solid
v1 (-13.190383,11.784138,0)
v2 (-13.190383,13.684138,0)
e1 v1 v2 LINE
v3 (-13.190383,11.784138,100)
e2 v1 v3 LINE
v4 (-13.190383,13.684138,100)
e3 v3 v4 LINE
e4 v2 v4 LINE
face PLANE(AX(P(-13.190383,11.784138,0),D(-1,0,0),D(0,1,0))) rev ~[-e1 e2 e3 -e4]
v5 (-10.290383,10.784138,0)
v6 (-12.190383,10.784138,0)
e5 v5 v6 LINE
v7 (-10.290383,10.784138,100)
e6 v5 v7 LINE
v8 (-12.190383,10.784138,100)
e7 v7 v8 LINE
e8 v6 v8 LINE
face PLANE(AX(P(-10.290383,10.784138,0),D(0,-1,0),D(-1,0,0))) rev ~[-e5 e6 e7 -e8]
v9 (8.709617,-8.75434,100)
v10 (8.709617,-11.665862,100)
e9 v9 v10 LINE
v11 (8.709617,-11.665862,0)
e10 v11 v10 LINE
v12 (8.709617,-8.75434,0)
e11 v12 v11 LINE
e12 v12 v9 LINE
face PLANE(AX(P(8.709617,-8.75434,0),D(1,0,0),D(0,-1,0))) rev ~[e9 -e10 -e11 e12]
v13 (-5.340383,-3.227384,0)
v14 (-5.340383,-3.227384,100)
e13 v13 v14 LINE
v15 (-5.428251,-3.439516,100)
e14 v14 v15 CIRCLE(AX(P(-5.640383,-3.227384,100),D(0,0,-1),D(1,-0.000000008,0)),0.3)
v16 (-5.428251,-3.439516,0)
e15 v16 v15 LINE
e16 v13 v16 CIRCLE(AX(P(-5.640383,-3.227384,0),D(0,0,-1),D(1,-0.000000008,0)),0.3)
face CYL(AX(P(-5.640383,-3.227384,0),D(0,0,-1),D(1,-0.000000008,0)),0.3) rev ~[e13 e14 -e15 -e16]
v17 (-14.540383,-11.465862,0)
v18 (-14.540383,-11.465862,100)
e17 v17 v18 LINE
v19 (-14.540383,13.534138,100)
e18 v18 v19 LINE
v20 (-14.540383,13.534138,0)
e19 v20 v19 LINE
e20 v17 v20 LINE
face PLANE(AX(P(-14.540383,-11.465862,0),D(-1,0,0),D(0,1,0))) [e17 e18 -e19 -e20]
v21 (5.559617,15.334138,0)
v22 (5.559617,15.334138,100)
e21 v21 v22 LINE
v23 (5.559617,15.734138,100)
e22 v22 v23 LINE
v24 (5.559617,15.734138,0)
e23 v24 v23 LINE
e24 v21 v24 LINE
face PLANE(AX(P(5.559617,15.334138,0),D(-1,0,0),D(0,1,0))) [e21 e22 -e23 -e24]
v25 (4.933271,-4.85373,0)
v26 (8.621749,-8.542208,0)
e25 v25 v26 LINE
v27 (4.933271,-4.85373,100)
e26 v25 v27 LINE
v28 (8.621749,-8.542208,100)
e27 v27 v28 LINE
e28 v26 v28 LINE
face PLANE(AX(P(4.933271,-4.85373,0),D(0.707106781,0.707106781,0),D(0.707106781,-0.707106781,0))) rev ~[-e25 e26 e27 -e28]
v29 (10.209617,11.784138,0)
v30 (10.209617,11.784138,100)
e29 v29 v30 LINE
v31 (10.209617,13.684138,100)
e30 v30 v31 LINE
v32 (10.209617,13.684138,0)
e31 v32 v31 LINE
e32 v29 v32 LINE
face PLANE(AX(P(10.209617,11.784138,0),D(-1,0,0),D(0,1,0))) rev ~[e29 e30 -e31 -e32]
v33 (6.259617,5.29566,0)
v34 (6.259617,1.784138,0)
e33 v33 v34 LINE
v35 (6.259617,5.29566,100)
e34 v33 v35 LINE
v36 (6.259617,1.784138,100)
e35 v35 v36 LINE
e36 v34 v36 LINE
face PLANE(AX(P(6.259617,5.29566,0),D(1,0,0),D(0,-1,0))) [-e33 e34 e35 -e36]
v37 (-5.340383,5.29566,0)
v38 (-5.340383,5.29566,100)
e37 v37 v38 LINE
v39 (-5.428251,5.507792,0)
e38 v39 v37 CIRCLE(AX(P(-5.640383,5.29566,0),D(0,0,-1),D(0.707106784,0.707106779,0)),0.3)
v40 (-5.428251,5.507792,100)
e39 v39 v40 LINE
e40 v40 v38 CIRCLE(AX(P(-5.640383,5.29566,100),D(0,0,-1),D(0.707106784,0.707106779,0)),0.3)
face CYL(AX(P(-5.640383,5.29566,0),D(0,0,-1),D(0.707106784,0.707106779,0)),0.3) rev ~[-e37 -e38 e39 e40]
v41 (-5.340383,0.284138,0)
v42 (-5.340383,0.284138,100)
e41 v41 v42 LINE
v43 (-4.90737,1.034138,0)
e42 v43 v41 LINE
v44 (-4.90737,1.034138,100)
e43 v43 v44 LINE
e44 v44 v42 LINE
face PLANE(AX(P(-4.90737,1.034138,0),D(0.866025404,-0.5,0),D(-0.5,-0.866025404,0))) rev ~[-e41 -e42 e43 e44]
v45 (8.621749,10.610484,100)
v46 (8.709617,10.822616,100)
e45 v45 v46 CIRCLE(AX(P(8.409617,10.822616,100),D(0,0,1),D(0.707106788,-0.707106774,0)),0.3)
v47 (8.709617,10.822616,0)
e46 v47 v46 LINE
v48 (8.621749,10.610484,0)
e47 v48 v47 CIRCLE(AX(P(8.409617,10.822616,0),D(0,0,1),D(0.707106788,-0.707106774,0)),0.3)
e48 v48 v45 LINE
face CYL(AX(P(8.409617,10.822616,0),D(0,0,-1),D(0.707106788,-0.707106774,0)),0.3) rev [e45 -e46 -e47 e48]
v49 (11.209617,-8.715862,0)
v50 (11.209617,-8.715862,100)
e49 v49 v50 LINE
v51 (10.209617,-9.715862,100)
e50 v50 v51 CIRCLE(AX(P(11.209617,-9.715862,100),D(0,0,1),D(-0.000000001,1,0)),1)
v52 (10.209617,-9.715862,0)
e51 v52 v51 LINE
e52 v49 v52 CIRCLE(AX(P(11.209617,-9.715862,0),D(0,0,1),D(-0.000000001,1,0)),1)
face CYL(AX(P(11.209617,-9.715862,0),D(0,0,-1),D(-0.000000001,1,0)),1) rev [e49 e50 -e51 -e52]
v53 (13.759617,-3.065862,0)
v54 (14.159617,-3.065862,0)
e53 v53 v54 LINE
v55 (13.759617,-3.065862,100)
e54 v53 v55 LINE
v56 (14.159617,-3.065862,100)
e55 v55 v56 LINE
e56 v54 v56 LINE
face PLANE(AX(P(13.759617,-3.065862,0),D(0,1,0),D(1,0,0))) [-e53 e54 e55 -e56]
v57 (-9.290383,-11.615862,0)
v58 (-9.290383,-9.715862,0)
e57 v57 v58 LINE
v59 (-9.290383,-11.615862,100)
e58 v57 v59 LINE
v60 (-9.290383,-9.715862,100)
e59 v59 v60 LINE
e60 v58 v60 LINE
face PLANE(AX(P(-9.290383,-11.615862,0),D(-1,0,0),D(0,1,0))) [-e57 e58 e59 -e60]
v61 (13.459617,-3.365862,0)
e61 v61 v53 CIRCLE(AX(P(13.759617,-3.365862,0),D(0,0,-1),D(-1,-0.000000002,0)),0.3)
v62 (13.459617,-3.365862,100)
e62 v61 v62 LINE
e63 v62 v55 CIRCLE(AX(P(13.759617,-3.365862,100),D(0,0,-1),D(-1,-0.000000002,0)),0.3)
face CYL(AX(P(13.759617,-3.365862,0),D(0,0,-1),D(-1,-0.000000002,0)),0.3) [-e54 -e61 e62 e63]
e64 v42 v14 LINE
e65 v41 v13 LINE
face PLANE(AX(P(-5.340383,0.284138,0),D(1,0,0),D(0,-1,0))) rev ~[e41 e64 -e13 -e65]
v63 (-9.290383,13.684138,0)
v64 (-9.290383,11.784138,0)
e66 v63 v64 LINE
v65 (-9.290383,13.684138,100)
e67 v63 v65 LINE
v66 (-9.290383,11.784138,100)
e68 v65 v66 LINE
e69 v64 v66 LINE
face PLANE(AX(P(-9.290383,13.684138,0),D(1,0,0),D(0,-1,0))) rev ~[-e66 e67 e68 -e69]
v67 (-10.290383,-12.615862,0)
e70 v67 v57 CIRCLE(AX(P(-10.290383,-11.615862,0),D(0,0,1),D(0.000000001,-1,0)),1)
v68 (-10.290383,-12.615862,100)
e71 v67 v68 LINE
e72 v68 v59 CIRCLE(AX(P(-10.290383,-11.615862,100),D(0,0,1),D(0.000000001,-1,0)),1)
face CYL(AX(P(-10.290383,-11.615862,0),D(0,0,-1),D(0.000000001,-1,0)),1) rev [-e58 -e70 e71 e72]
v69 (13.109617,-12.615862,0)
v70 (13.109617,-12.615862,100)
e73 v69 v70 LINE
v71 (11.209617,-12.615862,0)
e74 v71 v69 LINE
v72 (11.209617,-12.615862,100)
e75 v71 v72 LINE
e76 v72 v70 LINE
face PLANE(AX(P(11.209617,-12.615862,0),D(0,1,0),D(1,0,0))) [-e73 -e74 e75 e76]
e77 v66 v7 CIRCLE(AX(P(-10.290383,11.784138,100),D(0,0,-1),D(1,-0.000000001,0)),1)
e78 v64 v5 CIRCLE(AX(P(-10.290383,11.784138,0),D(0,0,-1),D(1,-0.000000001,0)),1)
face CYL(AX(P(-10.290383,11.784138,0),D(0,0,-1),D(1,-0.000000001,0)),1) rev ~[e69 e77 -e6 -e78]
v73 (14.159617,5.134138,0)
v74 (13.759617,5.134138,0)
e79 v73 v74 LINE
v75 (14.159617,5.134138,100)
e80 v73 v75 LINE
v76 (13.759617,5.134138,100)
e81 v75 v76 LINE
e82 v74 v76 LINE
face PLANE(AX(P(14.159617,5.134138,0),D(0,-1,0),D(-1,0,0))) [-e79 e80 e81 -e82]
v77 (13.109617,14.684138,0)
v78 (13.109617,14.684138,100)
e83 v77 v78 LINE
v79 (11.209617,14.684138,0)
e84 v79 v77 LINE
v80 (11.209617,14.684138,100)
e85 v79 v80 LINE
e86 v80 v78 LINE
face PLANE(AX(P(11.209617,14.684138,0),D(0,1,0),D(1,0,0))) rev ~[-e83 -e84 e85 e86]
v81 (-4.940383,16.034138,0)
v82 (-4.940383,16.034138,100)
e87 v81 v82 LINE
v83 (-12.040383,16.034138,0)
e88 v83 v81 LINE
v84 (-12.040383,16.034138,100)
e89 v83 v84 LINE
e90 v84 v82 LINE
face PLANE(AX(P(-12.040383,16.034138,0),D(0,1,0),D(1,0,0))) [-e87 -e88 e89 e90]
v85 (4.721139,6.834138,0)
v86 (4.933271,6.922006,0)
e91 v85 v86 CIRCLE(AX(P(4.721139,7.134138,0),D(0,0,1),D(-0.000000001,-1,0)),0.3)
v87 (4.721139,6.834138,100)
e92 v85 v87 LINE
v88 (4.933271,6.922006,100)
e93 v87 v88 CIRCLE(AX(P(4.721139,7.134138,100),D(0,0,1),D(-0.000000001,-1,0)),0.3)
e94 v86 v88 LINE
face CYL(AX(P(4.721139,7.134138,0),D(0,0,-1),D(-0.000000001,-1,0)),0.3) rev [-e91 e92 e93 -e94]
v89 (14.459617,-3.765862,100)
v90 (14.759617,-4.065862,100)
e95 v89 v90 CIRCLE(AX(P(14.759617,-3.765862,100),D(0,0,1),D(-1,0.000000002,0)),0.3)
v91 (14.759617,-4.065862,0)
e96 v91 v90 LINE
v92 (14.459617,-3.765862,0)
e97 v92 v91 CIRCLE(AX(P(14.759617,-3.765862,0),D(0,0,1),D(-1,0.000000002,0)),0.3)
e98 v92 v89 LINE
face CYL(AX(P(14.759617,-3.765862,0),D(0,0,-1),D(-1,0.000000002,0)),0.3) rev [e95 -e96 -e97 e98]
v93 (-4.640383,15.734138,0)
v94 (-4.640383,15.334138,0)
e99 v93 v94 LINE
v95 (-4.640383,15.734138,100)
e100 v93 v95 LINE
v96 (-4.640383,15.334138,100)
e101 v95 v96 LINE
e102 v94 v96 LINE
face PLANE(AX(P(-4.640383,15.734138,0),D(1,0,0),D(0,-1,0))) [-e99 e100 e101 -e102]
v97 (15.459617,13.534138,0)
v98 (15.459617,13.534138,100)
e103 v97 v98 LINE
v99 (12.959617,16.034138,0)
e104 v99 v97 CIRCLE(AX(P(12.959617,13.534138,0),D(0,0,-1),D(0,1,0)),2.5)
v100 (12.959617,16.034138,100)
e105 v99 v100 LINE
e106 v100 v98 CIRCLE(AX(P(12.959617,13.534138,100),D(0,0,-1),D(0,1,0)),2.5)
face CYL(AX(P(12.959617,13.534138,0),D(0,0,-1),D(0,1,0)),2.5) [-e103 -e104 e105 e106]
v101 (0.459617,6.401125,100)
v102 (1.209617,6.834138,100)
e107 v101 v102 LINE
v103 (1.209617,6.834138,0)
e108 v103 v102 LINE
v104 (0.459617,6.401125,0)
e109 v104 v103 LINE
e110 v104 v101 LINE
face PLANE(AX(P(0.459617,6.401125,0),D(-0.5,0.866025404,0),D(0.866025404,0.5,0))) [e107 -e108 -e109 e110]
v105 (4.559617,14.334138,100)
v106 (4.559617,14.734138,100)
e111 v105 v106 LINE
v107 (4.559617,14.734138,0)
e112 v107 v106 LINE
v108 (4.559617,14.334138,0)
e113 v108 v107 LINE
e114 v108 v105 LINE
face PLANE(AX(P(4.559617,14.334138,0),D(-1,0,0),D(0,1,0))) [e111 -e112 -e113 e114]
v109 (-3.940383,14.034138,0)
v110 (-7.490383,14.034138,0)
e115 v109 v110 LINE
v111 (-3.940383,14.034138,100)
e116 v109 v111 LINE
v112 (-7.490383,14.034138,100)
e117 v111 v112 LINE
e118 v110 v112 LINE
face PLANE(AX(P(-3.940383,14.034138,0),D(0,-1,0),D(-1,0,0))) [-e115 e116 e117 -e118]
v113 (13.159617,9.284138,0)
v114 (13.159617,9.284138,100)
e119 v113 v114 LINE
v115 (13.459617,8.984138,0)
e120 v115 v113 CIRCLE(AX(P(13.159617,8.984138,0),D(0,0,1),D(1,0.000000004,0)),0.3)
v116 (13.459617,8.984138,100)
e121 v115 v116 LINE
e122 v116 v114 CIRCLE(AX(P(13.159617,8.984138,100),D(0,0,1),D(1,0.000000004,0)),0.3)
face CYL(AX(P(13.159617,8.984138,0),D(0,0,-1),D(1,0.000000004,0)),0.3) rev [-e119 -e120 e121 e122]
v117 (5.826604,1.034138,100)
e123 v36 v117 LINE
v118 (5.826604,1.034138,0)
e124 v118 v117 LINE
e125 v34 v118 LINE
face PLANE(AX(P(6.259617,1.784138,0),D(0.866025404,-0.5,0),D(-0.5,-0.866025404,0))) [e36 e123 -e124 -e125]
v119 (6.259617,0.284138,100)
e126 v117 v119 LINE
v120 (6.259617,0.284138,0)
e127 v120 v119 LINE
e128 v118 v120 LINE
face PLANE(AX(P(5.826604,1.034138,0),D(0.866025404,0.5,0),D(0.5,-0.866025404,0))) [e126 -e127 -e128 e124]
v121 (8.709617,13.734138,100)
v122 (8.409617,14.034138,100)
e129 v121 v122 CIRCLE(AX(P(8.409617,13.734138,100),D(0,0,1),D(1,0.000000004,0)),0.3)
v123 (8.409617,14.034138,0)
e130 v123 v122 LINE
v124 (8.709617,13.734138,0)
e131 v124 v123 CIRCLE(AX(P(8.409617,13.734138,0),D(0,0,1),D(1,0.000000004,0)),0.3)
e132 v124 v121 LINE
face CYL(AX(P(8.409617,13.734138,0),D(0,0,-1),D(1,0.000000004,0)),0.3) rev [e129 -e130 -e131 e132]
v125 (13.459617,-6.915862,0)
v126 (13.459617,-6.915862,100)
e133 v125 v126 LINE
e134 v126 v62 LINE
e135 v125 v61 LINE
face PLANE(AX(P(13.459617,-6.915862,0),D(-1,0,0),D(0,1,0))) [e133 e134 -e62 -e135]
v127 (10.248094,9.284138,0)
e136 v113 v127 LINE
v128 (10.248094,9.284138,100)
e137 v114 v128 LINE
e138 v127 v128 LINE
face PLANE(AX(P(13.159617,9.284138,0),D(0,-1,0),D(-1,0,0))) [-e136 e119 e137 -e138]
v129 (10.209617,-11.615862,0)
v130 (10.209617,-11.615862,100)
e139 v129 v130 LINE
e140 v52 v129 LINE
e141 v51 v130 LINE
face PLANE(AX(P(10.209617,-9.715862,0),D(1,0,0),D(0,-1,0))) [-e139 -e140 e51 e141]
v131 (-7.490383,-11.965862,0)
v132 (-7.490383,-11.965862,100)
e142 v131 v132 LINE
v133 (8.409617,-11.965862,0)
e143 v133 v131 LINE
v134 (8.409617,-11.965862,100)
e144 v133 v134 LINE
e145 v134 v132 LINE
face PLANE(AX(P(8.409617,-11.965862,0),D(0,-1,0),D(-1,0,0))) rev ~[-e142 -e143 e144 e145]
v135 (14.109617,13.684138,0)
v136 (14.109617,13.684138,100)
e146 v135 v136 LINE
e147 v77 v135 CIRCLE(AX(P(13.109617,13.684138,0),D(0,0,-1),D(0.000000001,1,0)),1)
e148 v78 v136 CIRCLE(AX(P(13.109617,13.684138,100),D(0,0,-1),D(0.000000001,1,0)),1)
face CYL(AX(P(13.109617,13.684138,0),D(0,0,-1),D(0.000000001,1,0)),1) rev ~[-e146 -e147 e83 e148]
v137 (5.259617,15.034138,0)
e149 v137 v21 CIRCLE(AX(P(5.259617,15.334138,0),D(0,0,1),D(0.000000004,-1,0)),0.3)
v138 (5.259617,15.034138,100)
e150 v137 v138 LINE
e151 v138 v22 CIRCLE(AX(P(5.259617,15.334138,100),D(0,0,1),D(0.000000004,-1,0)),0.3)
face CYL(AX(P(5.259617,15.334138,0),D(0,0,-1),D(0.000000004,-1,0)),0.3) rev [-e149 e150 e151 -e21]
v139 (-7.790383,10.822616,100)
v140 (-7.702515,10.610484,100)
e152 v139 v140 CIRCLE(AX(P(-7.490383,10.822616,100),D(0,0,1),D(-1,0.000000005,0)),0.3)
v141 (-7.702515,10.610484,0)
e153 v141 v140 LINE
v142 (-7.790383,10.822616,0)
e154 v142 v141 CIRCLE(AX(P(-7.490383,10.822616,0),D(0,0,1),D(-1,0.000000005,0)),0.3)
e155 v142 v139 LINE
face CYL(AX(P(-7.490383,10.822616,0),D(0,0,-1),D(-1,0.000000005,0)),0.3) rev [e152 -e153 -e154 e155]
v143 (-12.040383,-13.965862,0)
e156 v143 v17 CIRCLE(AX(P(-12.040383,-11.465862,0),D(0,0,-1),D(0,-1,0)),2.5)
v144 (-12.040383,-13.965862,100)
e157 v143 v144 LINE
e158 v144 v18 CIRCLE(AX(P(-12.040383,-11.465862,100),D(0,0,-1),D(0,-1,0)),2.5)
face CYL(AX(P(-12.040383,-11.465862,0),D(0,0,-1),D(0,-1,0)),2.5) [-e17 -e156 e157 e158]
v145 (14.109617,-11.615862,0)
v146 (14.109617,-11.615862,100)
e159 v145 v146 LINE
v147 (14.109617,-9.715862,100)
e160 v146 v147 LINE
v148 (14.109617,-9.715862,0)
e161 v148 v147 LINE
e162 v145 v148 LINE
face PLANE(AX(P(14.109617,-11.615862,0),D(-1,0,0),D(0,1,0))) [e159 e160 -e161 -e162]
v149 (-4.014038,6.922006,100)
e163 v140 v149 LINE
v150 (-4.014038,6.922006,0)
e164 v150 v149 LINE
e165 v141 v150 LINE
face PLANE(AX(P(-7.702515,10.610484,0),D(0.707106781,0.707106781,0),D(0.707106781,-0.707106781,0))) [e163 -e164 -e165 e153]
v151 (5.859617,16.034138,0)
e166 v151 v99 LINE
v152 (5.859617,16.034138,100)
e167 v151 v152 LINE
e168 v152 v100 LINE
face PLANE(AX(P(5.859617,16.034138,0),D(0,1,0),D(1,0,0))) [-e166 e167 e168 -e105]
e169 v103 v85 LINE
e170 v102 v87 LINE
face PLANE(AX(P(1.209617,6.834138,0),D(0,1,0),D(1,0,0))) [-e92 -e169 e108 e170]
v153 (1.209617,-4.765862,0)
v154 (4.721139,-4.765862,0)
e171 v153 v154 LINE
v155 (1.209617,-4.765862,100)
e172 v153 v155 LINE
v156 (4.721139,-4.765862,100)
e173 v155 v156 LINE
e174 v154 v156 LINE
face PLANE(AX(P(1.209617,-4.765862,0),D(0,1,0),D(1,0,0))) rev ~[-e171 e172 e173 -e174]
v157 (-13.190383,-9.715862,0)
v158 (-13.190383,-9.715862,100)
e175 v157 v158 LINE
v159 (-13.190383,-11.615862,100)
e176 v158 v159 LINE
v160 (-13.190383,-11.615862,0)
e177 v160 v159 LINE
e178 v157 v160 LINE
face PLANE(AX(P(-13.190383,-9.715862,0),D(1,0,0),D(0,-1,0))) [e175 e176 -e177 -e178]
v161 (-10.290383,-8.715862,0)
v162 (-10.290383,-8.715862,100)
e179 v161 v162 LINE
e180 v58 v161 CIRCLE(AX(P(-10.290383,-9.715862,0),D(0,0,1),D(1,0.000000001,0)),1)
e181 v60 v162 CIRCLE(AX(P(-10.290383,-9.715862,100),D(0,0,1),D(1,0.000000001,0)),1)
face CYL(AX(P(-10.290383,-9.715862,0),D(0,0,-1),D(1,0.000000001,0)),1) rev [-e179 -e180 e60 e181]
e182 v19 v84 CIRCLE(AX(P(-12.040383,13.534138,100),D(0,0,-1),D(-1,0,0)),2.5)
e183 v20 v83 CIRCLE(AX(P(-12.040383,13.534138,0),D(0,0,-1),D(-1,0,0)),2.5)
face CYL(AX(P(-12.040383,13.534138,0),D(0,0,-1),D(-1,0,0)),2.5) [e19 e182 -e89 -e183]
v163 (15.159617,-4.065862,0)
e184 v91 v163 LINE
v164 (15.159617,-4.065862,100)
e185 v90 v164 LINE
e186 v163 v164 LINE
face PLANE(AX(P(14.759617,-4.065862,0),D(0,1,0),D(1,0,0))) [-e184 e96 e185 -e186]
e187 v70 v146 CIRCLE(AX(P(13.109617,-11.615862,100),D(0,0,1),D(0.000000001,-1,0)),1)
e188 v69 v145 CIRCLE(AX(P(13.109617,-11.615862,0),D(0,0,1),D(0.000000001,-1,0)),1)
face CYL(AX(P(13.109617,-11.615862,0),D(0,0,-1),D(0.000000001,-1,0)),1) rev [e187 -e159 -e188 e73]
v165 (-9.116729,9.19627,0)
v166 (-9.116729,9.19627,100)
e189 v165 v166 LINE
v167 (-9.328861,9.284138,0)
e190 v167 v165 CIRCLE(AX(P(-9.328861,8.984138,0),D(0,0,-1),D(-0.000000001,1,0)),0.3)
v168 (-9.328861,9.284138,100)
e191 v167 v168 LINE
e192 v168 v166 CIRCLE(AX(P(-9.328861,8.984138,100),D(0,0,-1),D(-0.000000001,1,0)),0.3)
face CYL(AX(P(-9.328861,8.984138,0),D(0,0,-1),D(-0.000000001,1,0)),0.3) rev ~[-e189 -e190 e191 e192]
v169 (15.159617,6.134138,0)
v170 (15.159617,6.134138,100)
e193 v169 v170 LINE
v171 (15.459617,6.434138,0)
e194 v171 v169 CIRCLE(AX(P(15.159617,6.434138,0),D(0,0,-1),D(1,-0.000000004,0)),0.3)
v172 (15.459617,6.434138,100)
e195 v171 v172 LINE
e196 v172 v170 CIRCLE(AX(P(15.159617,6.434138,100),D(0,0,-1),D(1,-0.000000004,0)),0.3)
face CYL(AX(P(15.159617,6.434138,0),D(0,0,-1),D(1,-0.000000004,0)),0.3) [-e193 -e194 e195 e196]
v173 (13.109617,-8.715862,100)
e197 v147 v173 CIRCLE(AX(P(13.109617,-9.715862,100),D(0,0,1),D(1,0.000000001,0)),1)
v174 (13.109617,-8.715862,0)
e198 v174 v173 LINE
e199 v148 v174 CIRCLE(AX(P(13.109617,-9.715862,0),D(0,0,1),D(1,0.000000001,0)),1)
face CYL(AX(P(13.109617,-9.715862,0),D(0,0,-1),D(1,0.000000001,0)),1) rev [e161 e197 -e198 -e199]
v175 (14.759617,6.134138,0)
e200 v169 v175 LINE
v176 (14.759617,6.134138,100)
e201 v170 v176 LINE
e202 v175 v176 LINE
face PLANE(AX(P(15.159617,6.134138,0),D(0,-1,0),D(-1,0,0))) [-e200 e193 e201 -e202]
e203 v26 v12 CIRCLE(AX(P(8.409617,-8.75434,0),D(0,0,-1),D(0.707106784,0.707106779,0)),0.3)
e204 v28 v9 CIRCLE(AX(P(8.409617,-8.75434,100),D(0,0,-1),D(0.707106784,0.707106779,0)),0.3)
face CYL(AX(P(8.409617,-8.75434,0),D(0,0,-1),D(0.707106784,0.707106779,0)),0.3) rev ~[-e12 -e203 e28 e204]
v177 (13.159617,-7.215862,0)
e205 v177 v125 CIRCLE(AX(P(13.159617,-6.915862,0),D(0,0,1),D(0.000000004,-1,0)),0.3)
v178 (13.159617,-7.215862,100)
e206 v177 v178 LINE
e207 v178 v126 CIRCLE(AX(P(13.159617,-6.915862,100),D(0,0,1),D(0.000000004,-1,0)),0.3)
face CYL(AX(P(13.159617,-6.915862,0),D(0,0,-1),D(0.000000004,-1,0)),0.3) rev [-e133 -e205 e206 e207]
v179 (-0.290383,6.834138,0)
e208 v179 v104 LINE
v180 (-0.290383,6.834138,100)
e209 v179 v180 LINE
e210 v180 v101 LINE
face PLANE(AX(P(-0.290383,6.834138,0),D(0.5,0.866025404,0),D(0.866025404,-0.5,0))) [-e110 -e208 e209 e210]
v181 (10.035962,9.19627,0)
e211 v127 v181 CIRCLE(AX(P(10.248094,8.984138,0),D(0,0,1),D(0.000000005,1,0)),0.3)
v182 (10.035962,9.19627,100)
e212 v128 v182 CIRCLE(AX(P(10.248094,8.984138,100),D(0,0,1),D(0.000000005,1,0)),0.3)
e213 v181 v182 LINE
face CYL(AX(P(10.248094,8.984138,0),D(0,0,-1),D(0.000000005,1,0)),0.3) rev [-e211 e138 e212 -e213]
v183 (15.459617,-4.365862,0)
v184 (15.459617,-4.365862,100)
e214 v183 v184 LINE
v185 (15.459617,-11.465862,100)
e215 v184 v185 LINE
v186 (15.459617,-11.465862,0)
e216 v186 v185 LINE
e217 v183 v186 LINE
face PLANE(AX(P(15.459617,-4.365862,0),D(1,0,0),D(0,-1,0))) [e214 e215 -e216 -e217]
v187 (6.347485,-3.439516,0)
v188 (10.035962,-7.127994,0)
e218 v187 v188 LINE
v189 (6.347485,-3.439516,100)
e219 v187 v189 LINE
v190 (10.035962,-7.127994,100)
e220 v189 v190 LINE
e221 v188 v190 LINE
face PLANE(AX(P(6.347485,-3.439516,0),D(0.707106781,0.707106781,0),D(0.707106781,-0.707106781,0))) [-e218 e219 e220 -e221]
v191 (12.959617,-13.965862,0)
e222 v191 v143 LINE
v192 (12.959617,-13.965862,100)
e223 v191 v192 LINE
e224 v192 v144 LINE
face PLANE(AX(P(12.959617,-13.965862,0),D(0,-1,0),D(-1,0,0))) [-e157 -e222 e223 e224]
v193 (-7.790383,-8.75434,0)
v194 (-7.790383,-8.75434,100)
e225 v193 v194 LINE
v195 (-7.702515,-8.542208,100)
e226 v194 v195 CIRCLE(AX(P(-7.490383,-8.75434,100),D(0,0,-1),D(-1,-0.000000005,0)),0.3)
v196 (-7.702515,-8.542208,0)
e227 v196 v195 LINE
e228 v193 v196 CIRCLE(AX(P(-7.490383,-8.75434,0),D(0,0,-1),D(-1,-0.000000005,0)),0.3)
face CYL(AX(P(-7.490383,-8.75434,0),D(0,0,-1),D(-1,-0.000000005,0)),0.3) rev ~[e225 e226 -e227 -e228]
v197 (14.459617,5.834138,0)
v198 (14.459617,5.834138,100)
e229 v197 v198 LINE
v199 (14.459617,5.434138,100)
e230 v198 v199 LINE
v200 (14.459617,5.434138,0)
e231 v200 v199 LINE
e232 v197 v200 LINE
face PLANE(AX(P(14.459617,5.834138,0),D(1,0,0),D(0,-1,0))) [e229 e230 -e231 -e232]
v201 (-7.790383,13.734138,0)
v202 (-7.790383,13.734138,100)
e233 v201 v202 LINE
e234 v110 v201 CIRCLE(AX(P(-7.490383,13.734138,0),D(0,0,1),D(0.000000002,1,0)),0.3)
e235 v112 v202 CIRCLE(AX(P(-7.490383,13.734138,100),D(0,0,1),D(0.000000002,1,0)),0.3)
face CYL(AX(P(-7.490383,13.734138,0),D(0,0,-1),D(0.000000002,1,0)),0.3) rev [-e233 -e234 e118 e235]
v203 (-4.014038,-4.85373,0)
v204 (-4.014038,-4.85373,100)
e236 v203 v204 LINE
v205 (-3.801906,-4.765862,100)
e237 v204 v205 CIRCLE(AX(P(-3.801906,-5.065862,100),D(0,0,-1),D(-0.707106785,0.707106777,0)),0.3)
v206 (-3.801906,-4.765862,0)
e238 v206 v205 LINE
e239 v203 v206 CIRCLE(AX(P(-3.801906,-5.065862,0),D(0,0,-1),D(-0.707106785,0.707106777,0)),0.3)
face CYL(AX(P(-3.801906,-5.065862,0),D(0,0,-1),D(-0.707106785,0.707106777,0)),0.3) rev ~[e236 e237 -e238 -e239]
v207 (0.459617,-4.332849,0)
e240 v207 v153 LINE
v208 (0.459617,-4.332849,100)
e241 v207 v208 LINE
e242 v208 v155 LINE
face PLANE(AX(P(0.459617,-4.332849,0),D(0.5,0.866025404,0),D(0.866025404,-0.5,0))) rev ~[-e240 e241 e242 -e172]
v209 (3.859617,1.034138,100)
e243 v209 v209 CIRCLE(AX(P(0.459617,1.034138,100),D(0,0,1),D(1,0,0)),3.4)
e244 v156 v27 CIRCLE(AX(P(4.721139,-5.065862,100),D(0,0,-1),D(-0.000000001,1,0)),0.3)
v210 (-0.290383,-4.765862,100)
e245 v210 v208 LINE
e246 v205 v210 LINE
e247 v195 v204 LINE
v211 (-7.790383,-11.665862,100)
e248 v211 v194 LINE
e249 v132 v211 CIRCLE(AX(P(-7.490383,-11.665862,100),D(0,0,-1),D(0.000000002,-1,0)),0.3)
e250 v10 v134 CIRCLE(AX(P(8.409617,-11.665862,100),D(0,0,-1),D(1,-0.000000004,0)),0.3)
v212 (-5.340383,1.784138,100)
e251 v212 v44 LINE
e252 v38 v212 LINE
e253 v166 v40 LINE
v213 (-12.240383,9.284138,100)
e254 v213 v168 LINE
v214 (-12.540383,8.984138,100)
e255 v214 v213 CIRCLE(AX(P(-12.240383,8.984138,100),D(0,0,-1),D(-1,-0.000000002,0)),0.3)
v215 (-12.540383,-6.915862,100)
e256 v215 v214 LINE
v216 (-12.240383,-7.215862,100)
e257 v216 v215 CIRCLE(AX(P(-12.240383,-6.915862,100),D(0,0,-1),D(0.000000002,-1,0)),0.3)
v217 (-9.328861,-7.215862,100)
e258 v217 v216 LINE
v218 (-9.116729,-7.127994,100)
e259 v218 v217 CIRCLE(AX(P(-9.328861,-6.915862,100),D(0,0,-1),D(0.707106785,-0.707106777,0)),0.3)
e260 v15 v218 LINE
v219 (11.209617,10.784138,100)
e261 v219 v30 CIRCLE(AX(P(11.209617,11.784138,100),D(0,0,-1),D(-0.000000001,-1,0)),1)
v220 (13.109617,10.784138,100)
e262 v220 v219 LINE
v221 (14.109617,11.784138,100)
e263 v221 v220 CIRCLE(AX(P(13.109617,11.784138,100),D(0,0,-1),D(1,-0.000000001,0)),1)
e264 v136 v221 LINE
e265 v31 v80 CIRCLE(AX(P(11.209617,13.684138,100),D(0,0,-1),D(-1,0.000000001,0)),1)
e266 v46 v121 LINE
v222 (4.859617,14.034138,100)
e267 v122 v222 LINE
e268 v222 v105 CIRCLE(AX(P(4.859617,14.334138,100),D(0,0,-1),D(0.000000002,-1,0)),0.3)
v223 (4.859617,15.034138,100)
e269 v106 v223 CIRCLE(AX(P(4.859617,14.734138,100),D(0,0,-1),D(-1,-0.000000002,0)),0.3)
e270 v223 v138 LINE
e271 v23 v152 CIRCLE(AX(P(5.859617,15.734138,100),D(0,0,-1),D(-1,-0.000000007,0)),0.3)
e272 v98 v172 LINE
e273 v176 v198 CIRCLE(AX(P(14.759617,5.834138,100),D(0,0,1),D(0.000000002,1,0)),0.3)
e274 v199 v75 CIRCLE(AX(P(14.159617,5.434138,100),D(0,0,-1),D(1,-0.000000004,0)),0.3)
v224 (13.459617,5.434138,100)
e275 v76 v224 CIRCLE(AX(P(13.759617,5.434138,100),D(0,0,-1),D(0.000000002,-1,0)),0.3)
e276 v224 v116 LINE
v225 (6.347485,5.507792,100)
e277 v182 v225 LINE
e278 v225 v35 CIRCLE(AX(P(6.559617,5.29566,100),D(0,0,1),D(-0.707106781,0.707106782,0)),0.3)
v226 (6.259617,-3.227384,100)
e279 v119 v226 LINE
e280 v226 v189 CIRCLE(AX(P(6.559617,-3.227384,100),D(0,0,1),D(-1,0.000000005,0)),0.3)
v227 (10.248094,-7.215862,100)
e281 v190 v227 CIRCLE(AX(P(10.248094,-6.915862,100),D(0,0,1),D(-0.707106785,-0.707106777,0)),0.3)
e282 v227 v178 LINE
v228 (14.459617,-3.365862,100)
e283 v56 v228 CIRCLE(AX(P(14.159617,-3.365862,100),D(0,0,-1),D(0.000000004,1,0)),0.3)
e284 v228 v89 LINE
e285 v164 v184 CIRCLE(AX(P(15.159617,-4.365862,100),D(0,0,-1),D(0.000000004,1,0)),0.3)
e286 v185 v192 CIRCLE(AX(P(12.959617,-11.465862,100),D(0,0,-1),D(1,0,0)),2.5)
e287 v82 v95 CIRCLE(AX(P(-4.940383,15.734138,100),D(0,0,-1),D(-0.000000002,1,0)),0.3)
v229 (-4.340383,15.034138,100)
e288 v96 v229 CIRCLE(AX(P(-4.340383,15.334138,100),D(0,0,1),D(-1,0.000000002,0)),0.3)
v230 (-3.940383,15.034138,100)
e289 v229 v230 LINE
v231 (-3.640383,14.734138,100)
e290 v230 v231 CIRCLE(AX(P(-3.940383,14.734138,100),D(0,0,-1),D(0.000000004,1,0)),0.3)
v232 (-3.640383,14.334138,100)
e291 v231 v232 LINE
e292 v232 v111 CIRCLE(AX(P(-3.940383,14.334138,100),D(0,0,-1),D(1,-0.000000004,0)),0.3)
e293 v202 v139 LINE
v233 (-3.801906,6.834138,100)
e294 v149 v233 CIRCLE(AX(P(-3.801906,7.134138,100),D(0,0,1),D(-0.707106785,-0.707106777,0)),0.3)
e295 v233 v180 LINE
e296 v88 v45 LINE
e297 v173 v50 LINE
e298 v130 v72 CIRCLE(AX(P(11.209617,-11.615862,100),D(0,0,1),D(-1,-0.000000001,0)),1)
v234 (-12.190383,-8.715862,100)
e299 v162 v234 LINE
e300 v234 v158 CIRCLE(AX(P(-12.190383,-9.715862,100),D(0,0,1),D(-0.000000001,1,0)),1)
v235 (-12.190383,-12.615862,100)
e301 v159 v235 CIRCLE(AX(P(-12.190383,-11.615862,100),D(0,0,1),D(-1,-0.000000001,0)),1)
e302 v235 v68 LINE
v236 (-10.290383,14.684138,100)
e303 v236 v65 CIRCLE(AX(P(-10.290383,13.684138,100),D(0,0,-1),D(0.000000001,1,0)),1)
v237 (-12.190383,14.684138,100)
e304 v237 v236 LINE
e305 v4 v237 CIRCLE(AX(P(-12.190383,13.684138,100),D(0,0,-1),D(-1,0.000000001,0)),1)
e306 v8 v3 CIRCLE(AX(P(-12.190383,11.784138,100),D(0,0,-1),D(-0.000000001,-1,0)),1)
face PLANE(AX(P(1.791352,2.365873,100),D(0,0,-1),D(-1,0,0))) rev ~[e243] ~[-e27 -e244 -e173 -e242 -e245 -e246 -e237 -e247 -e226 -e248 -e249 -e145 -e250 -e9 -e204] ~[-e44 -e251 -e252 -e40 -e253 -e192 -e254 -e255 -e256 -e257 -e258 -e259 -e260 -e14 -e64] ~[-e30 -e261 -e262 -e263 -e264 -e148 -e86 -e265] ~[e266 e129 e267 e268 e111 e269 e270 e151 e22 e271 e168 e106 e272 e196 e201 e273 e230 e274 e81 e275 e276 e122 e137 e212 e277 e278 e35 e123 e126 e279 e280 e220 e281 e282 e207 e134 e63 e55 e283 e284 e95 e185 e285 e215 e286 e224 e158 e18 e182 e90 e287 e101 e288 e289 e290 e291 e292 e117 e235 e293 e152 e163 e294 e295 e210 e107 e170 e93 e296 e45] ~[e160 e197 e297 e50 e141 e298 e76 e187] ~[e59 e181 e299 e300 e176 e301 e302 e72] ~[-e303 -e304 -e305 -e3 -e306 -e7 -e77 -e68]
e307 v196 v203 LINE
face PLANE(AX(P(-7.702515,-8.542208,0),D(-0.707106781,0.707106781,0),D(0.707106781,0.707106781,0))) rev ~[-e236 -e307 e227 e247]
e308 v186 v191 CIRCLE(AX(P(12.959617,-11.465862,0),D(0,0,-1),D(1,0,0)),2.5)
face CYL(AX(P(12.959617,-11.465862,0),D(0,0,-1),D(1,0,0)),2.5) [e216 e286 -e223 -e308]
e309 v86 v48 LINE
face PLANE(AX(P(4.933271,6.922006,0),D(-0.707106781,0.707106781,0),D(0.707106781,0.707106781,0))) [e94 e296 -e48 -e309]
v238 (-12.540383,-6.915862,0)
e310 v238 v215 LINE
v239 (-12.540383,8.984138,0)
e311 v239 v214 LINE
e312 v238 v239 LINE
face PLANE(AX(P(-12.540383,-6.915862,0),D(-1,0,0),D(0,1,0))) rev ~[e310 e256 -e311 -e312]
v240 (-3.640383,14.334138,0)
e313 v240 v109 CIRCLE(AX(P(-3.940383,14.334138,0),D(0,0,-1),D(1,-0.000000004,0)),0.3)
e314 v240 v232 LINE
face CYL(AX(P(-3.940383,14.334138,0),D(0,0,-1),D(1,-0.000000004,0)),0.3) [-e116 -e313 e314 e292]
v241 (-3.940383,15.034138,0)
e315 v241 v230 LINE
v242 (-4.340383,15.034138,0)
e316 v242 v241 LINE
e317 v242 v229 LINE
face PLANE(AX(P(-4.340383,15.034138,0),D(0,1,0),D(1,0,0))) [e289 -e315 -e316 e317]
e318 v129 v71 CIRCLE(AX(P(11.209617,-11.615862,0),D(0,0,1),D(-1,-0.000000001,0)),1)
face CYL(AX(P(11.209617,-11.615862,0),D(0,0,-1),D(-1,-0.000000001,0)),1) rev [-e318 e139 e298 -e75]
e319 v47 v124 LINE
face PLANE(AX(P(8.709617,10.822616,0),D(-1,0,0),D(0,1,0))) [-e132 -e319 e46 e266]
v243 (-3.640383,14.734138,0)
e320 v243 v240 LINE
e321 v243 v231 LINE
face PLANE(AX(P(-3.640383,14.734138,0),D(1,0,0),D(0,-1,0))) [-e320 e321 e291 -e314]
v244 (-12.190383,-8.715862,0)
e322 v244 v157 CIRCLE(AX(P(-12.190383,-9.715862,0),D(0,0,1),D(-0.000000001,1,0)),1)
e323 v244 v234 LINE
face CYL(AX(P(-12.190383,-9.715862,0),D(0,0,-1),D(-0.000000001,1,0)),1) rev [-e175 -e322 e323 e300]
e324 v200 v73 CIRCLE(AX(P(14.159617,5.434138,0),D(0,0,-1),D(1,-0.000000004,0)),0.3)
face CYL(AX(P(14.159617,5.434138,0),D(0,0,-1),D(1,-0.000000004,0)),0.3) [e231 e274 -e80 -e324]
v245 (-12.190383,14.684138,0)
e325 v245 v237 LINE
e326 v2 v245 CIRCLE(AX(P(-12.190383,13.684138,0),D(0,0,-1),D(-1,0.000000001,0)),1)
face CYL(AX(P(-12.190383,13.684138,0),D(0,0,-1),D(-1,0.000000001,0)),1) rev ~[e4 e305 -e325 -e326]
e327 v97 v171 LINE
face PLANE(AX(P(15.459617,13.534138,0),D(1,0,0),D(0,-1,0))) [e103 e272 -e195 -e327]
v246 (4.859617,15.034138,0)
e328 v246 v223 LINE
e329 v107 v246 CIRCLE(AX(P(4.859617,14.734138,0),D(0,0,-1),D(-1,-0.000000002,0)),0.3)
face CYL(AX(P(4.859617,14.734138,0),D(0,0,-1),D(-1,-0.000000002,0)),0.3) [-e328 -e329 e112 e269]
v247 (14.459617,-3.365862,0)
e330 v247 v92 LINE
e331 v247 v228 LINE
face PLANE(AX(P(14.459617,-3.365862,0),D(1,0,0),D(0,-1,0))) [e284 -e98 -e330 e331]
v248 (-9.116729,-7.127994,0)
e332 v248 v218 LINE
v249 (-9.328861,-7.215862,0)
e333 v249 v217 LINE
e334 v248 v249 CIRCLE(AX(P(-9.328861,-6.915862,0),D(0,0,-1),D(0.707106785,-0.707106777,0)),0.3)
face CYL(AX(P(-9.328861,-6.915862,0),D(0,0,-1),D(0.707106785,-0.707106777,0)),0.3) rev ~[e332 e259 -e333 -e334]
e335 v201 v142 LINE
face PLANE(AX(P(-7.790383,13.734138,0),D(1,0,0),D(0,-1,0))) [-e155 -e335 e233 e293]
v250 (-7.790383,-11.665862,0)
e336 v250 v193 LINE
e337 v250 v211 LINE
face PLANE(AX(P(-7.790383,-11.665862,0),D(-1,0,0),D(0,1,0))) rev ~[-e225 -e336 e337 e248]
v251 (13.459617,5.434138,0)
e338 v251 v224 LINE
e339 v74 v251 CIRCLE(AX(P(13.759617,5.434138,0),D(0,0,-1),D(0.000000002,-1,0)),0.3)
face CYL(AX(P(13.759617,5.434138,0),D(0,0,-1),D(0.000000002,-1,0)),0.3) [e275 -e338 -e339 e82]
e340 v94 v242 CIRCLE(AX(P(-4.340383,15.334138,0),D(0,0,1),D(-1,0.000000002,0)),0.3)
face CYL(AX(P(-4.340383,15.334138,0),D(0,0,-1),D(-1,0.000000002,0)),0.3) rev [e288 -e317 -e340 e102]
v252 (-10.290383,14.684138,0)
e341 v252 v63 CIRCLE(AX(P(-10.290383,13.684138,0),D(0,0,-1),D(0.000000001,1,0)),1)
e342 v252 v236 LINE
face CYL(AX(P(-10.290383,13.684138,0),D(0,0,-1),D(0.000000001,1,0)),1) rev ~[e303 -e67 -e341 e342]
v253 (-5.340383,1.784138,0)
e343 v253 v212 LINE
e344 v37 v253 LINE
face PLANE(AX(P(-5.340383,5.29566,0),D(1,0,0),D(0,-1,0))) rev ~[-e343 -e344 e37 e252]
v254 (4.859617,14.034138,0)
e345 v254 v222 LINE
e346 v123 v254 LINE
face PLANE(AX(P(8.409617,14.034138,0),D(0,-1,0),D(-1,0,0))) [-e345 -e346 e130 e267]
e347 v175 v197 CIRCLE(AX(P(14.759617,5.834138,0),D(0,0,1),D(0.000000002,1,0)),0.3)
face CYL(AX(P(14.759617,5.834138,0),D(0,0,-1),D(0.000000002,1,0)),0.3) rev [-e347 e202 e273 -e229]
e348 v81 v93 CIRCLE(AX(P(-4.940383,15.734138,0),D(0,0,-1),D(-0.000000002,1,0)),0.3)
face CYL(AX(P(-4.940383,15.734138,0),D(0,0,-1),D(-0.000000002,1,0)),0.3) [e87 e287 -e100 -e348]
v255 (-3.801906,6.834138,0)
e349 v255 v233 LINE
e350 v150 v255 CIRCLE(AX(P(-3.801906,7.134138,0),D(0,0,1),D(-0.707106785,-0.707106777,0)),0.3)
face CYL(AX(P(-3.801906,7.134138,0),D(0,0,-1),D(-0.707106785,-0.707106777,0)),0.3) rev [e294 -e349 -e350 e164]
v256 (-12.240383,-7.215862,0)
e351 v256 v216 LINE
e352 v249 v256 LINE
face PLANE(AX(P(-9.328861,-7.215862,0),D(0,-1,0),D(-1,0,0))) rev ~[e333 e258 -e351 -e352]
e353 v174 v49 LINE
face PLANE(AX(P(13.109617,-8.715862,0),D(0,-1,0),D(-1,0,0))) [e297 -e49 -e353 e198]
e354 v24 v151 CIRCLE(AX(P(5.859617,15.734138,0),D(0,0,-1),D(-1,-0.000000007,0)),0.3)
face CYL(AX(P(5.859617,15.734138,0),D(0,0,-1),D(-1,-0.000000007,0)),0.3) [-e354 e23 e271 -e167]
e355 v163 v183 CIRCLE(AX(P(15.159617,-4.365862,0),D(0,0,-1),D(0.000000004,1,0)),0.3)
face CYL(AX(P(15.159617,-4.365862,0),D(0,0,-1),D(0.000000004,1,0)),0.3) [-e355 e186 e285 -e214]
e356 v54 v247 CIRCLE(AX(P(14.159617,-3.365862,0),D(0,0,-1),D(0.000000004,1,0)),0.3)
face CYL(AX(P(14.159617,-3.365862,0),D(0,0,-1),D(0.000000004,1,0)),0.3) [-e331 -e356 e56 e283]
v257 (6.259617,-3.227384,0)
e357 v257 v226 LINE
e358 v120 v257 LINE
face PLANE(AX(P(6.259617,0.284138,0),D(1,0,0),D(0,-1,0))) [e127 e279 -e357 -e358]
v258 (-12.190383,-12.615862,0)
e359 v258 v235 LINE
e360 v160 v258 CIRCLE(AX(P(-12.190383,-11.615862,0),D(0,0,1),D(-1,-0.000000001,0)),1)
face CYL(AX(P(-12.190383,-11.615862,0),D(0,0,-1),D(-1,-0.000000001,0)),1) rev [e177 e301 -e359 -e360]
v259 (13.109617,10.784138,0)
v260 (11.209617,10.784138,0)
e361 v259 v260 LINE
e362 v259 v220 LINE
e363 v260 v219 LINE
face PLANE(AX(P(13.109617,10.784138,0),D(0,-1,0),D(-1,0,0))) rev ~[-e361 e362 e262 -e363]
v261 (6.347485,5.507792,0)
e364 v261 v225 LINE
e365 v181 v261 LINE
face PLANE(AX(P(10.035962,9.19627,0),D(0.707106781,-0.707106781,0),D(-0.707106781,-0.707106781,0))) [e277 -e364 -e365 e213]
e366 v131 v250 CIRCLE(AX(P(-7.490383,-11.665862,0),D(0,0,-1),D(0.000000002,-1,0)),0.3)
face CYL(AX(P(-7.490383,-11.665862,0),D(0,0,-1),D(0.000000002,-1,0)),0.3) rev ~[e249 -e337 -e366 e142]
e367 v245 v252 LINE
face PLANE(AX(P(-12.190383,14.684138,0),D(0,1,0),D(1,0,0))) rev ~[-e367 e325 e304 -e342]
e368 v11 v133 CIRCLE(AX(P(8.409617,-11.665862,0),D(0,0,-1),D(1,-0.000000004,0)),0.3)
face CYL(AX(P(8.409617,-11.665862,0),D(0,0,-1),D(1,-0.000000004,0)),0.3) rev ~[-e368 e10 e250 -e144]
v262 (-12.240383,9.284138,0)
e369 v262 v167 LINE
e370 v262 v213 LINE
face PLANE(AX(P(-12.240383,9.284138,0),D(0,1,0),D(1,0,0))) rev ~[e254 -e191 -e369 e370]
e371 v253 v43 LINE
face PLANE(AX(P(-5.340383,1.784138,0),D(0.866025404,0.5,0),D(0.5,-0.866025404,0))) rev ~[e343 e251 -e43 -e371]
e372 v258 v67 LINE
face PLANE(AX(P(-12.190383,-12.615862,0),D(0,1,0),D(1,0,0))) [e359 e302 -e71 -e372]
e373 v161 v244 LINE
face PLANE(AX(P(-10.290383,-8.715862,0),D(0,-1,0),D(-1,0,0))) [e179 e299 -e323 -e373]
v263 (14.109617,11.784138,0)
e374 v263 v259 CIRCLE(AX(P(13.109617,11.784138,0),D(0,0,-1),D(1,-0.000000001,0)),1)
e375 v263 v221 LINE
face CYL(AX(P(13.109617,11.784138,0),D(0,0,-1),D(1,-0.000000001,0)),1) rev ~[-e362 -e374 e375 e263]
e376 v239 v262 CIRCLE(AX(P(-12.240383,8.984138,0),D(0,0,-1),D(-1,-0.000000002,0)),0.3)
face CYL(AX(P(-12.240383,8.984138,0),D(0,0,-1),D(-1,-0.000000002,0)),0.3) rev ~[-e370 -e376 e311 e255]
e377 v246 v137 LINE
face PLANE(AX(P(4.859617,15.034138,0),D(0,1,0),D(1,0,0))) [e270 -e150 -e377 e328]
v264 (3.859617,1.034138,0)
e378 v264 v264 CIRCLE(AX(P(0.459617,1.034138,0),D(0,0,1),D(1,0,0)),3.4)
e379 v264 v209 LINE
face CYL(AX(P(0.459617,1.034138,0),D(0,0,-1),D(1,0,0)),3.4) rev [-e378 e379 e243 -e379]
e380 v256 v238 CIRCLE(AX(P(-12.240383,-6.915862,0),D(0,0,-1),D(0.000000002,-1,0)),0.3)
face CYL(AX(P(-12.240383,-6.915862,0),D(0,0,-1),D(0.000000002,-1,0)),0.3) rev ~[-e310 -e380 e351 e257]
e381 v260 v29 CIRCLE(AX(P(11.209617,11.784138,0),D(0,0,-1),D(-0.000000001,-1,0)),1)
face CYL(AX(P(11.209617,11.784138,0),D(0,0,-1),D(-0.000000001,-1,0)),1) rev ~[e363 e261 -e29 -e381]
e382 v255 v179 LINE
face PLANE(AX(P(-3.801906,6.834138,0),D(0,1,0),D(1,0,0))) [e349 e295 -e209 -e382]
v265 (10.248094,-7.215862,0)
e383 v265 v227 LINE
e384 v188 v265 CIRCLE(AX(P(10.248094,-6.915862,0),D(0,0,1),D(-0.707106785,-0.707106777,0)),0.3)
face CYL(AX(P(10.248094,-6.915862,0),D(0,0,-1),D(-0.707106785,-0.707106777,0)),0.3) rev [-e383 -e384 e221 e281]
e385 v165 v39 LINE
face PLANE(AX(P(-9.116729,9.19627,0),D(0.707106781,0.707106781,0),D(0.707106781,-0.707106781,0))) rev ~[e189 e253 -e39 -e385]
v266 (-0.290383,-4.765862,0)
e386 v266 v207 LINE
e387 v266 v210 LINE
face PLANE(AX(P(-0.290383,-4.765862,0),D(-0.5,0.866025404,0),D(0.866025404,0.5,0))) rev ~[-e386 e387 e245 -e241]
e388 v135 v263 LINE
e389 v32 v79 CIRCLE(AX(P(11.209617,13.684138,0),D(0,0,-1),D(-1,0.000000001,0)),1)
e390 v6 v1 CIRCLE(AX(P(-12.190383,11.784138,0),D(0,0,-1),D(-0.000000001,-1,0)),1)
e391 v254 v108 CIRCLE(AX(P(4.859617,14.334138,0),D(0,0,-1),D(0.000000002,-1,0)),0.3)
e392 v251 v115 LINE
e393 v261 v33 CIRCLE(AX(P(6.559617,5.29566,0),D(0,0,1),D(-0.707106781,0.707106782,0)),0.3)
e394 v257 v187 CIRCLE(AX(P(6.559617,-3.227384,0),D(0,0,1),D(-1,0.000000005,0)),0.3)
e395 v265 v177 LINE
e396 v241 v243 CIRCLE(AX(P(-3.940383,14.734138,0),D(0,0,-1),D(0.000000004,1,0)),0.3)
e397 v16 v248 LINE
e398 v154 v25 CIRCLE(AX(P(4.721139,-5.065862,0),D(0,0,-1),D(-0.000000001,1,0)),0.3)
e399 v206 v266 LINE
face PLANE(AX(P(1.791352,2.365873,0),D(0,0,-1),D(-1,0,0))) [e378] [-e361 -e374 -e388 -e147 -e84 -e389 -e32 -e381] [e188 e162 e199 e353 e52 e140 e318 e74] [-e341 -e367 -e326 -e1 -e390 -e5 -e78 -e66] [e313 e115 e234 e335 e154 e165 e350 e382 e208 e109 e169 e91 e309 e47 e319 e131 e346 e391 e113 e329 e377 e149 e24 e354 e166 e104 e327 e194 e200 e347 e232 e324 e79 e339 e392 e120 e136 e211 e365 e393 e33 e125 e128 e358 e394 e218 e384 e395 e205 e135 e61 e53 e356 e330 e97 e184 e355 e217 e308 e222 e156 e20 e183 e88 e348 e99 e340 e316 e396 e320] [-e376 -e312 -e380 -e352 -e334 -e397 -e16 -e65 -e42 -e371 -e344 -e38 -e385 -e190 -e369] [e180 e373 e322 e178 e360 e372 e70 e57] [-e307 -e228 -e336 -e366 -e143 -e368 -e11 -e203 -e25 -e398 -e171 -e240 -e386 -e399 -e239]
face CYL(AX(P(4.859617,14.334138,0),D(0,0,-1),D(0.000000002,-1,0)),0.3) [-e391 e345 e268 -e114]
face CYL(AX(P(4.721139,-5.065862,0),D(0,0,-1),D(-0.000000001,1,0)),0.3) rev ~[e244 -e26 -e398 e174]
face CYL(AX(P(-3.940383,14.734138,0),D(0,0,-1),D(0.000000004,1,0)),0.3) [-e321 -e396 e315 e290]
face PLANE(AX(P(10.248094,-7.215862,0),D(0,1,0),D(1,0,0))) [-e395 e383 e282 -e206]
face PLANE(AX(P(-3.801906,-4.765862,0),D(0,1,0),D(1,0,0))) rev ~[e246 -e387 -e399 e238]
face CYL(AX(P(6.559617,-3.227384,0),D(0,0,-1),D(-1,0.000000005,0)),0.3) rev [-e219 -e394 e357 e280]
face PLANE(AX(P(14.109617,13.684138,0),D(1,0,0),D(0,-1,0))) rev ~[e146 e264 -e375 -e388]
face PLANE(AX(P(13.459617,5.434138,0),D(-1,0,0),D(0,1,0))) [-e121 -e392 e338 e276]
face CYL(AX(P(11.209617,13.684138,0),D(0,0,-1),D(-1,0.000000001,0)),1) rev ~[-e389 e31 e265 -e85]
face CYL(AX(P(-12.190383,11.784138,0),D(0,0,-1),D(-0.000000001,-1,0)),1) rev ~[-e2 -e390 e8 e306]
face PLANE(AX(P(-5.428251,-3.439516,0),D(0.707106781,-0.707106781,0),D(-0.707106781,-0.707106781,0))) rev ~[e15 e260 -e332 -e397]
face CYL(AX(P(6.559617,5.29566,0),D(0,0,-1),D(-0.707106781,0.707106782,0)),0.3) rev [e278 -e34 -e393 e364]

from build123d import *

# Parameters (mm, degrees)
SKETCH_1_R      = 3.4
EXTRUDE_1_DEPTH = 100


with BuildPart() as part:
    # 草图1 → 凸台-拉伸1 (new body)
    with BuildSketch(Plane.XY):
        with BuildLine():
            Line((5.859616846, 16.034137905), (12.959616847, 16.034137905))
            ThreePointArc((12.959616847, 16.034137905), (14.7273838, 15.301904858), (15.459616847, 13.534137905))
            Line((15.459616847, 13.534137905), (15.459616847, 6.434137905))
            ThreePointArc((15.459616847, 6.434137905), (15.371748881, 6.222005871), (15.159616847, 6.134137905))
            Line((15.159616847, 6.134137905), (14.759616847, 6.134137905))
            ThreePointArc((14.759616847, 6.134137905), (14.547484812, 6.046269939), (14.459616847, 5.834137905))
            Line((14.459616847, 5.834137905), (14.459616847, 5.434137905))
            ThreePointArc((14.459616847, 5.434137905), (14.371748881, 5.222005871), (14.159616847, 5.134137905))
            Line((14.159616847, 5.134137905), (13.759616847, 5.134137905))
            ThreePointArc((13.759616847, 5.134137905), (13.547484812, 5.222005871), (13.459616847, 5.434137905))
            Line((13.459616847, 5.434137905), (13.459616847, 8.984137905))
            ThreePointArc((13.459616847, 8.984137905), (13.371748881, 9.196269939), (13.159616847, 9.284137905))
            Line((13.159616847, 9.284137905), (10.248094478, 9.284137905))
            ThreePointArc((10.248094478, 9.284137905), (10.133289448, 9.261301765), (10.035962443, 9.196269939))
            Line((10.035962443, 9.196269939), (6.347484812, 5.507792308))
            ThreePointArc((6.347484812, 5.507792308), (6.282452987, 5.410465304), (6.259616847, 5.295660274))
            Line((6.259616847, 5.295660274), (6.259616847, 1.784137905))
            Line((6.259616847, 1.784137905), (5.826604145, 1.034137905))
            Line((5.826604145, 1.034137905), (6.259616847, 0.284137905))
            Line((6.259616847, 0.284137905), (6.259616847, -3.227384464))
            ThreePointArc((6.259616847, -3.227384464), (6.282452987, -3.342189494), (6.347484812, -3.439516498))
            Line((6.347484812, -3.439516498), (10.035962443, -7.127994129))
            ThreePointArc((10.035962443, -7.127994129), (10.133289448, -7.193025955), (10.248094478, -7.215862095))
            Line((10.248094478, -7.215862095), (13.159616847, -7.215862095))
            ThreePointArc((13.159616847, -7.215862095), (13.371748881, -7.127994129), (13.459616847, -6.915862095))
            Line((13.459616847, -6.915862095), (13.459616847, -3.365862095))
            ThreePointArc((13.459616847, -3.365862095), (13.547484812, -3.153730061), (13.759616847, -3.065862095))
            Line((13.759616847, -3.065862095), (14.159616847, -3.065862095))
            ThreePointArc((14.159616847, -3.065862095), (14.371748881, -3.153730061), (14.459616847, -3.365862095))
            Line((14.459616847, -3.365862095), (14.459616847, -3.765862095))
            ThreePointArc((14.459616847, -3.765862095), (14.547484812, -3.977994129), (14.759616847, -4.065862095))
            Line((14.759616847, -4.065862095), (15.159616847, -4.065862095))
            ThreePointArc((15.159616847, -4.065862095), (15.371748881, -4.153730061), (15.459616847, -4.365862095))
            Line((15.459616847, -4.365862095), (15.459616847, -11.465862095))
            ThreePointArc((15.459616847, -11.465862095), (14.7273838, -13.233629048), (12.959616847, -13.965862095))
            Line((12.959616847, -13.965862095), (-12.040383153, -13.965862095))
            ThreePointArc((-12.040383153, -13.965862095), (-13.808150106, -13.233629048), (-14.540383153, -11.465862095))
            Line((-14.540383153, -11.465862095), (-14.540383153, 13.534137905))
            ThreePointArc((-14.540383153, 13.534137905), (-13.808150106, 15.301904858), (-12.040383153, 16.034137905))
            Line((-12.040383153, 16.034137905), (-4.940383153, 16.034137905))
            ThreePointArc((-4.940383153, 16.034137905), (-4.728251119, 15.94626994), (-4.640383153, 15.734137905))
            Line((-4.640383153, 15.734137905), (-4.640383153, 15.334137905))
            ThreePointArc((-4.640383153, 15.334137905), (-4.552515188, 15.122005871), (-4.340383153, 15.034137905))
            Line((-4.340383153, 15.034137905), (-3.940383153, 15.034137905))
            ThreePointArc((-3.940383153, 15.034137905), (-3.728251119, 14.946269939), (-3.640383153, 14.734137905))
            Line((-3.640383153, 14.734137905), (-3.640383153, 14.334137905))
            ThreePointArc((-3.640383153, 14.334137905), (-3.728251119, 14.122005871), (-3.940383153, 14.034137905))
            Line((-3.940383153, 14.034137905), (-7.490383153, 14.034137905))
            ThreePointArc((-7.490383153, 14.034137905), (-7.702515188, 13.946269939), (-7.790383153, 13.734137905))
            Line((-7.790383153, 13.734137905), (-7.790383153, 10.822615536))
            ThreePointArc((-7.790383153, 10.822615536), (-7.767547013, 10.707810506), (-7.702515188, 10.610483502))
            Line((-7.702515188, 10.610483502), (-4.014037557, 6.922005871))
            ThreePointArc((-4.014037557, 6.922005871), (-3.916710552, 6.856974045), (-3.801905522, 6.834137905))
            Line((-3.801905522, 6.834137905), (-0.290383153, 6.834137905))
            Line((-0.290383153, 6.834137905), (0.459616847, 6.401125203))
            Line((0.459616847, 6.401125203), (1.209616847, 6.834137905))
            Line((1.209616847, 6.834137905), (4.721139216, 6.834137905))
            ThreePointArc((4.721139216, 6.834137905), (4.835944245, 6.856974045), (4.93327125, 6.922005871))
            Line((4.93327125, 6.922005871), (8.621748881, 10.610483502))
            ThreePointArc((8.621748881, 10.610483502), (8.686780706, 10.707810507), (8.709616847, 10.822615536))
            Line((8.709616847, 10.822615536), (8.709616847, 13.734137905))
            ThreePointArc((8.709616847, 13.734137905), (8.621748881, 13.946269939), (8.409616847, 14.034137905))
            Line((8.409616847, 14.034137905), (4.859616847, 14.034137905))
            ThreePointArc((4.859616847, 14.034137905), (4.647484812, 14.122005871), (4.559616847, 14.334137905))
            Line((4.559616847, 14.334137905), (4.559616847, 14.734137905))
            ThreePointArc((4.559616847, 14.734137905), (4.647484812, 14.946269939), (4.859616847, 15.034137905))
            Line((4.859616847, 15.034137905), (5.259616847, 15.034137905))
            ThreePointArc((5.259616847, 15.034137905), (5.471748881, 15.122005871), (5.559616847, 15.334137905))
            Line((5.559616847, 15.334137905), (5.559616847, 15.734137905))
            ThreePointArc((5.559616847, 15.734137905), (5.647484812, 15.94626994), (5.859616846, 16.034137905))
        make_face()
        with Locations((0.459616847, 1.034137905)):
            Circle(SKETCH_1_R, mode=Mode.SUBTRACT)
        with BuildLine():
            Line((8.409616847, -11.965862095), (-7.490383153, -11.965862095))
            ThreePointArc((-7.490383153, -11.965862095), (-7.702515188, -11.877994129), (-7.790383153, -11.665862095))
            Line((-7.790383153, -11.665862095), (-7.790383153, -8.754339726))
            ThreePointArc((-7.790383153, -8.754339726), (-7.767547013, -8.639534696), (-7.702515188, -8.542207692))
            Line((-7.702515188, -8.542207692), (-4.014037557, -4.853730061))
            ThreePointArc((-4.014037557, -4.853730061), (-3.916710552, -4.788698235), (-3.801905522, -4.765862095))
            Line((-3.801905522, -4.765862095), (-0.290383153, -4.765862095))
            Line((-0.290383153, -4.765862095), (0.459616847, -4.332849393))
            Line((0.459616847, -4.332849393), (1.209616847, -4.765862095))
            Line((1.209616847, -4.765862095), (4.721139216, -4.765862095))
            ThreePointArc((4.721139216, -4.765862095), (4.835944245, -4.788698235), (4.93327125, -4.853730061))
            Line((4.93327125, -4.853730061), (8.621748881, -8.542207692))
            ThreePointArc((8.621748881, -8.542207692), (8.686780706, -8.639534696), (8.709616847, -8.754339726))
            Line((8.709616847, -8.754339726), (8.709616847, -11.665862095))
            ThreePointArc((8.709616847, -11.665862095), (8.621748881, -11.877994129), (8.409616847, -11.965862095))
        make_face(mode=Mode.SUBTRACT)
        with BuildLine():
            Line((-10.290383153, -8.715862095), (-12.190383153, -8.715862095))
            ThreePointArc((-12.190383153, -8.715862095), (-12.897489934, -9.008755314), (-13.190383153, -9.715862095))
            Line((-13.190383153, -9.715862095), (-13.190383153, -11.615862095))
            ThreePointArc((-13.190383153, -11.615862095), (-12.897489934, -12.322968876), (-12.190383153, -12.615862095))
            Line((-12.190383153, -12.615862095), (-10.290383153, -12.615862095))
            ThreePointArc((-10.290383153, -12.615862095), (-9.583276372, -12.322968876), (-9.290383153, -11.615862095))
            Line((-9.290383153, -11.615862095), (-9.290383153, -9.715862095))
            ThreePointArc((-9.290383153, -9.715862095), (-9.583276372, -9.008755314), (-10.290383153, -8.715862095))
        make_face(mode=Mode.SUBTRACT)
        with BuildLine():
            Line((-9.290383153, 13.684137905), (-9.290383153, 11.784137905))
            ThreePointArc((-9.290383153, 11.784137905), (-9.583276372, 11.077031124), (-10.290383153, 10.784137905))
            Line((-10.290383153, 10.784137905), (-12.190383153, 10.784137905))
            ThreePointArc((-12.190383153, 10.784137905), (-12.897489934, 11.077031124), (-13.190383153, 11.784137905))
            Line((-13.190383153, 11.784137905), (-13.190383153, 13.684137905))
            ThreePointArc((-13.190383153, 13.684137905), (-12.897489934, 14.391244686), (-12.190383153, 14.684137905))
            Line((-12.190383153, 14.684137905), (-10.290383153, 14.684137905))
            ThreePointArc((-10.290383153, 14.684137905), (-9.583276372, 14.391244686), (-9.290383153, 13.684137905))
        make_face(mode=Mode.SUBTRACT)
        with BuildLine():
            Line((13.109616847, 10.784137905), (11.209616847, 10.784137905))
            ThreePointArc((11.209616847, 10.784137905), (10.502510066, 11.077031124), (10.209616847, 11.784137905))
            Line((10.209616847, 11.784137905), (10.209616847, 13.684137905))
            ThreePointArc((10.209616847, 13.684137905), (10.502510066, 14.391244686), (11.209616847, 14.684137905))
            Line((11.209616847, 14.684137905), (13.109616847, 14.684137905))
            ThreePointArc((13.109616847, 14.684137905), (13.816723628, 14.391244686), (14.109616847, 13.684137905))
            Line((14.109616847, 13.684137905), (14.109616847, 11.784137905))
            ThreePointArc((14.109616847, 11.784137905), (13.816723628, 11.077031124), (13.109616847, 10.784137905))
        make_face(mode=Mode.SUBTRACT)
        with BuildLine():
            Line((-5.340383153, 5.295660274), (-5.340383153, 1.784137905))
            Line((-5.340383153, 1.784137905), (-4.907370451, 1.034137905))
            Line((-4.907370451, 1.034137905), (-5.340383153, 0.284137905))
            Line((-5.340383153, 0.284137905), (-5.340383153, -3.227384464))
            ThreePointArc((-5.340383153, -3.227384464), (-5.363219294, -3.342189494), (-5.428251119, -3.439516498))
            Line((-5.428251119, -3.439516498), (-9.11672875, -7.127994129))
            ThreePointArc((-9.11672875, -7.127994129), (-9.214055755, -7.193025955), (-9.328860784, -7.215862095))
            Line((-9.328860784, -7.215862095), (-12.240383153, -7.215862095))
            ThreePointArc((-12.240383153, -7.215862095), (-12.452515188, -7.127994129), (-12.540383153, -6.915862095))
            Line((-12.540383153, -6.915862095), (-12.540383153, 8.984137905))
            ThreePointArc((-12.540383153, 8.984137905), (-12.452515188, 9.196269939), (-12.240383153, 9.284137905))
            Line((-12.240383153, 9.284137905), (-9.328860784, 9.284137905))
            ThreePointArc((-9.328860784, 9.284137905), (-9.214055755, 9.261301765), (-9.11672875, 9.196269939))
            Line((-9.11672875, 9.196269939), (-5.428251119, 5.507792308))
            ThreePointArc((-5.428251119, 5.507792308), (-5.363219294, 5.410465304), (-5.340383153, 5.295660274))
        make_face(mode=Mode.SUBTRACT)
        with BuildLine():
            Line((14.109616847, -11.615862095), (14.109616847, -9.715862095))
            ThreePointArc((14.109616847, -9.715862095), (13.816723628, -9.008755314), (13.109616847, -8.715862095))
            Line((13.109616847, -8.715862095), (11.209616847, -8.715862095))
            ThreePointArc((11.209616847, -8.715862095), (10.502510066, -9.008755314), (10.209616847, -9.715862095))
            Line((10.209616847, -9.715862095), (10.209616847, -11.615862095))
            ThreePointArc((10.209616847, -11.615862095), (10.502510066, -12.322968876), (11.209616847, -12.615862095))
            Line((11.209616847, -12.615862095), (13.109616847, -12.615862095))
            ThreePointArc((13.109616847, -12.615862095), (13.816723628, -12.322968876), (14.109616847, -11.615862095))
        make_face(mode=Mode.SUBTRACT)
    extrude(amount=EXTRUDE_1_DEPTH)


solid = part.part
